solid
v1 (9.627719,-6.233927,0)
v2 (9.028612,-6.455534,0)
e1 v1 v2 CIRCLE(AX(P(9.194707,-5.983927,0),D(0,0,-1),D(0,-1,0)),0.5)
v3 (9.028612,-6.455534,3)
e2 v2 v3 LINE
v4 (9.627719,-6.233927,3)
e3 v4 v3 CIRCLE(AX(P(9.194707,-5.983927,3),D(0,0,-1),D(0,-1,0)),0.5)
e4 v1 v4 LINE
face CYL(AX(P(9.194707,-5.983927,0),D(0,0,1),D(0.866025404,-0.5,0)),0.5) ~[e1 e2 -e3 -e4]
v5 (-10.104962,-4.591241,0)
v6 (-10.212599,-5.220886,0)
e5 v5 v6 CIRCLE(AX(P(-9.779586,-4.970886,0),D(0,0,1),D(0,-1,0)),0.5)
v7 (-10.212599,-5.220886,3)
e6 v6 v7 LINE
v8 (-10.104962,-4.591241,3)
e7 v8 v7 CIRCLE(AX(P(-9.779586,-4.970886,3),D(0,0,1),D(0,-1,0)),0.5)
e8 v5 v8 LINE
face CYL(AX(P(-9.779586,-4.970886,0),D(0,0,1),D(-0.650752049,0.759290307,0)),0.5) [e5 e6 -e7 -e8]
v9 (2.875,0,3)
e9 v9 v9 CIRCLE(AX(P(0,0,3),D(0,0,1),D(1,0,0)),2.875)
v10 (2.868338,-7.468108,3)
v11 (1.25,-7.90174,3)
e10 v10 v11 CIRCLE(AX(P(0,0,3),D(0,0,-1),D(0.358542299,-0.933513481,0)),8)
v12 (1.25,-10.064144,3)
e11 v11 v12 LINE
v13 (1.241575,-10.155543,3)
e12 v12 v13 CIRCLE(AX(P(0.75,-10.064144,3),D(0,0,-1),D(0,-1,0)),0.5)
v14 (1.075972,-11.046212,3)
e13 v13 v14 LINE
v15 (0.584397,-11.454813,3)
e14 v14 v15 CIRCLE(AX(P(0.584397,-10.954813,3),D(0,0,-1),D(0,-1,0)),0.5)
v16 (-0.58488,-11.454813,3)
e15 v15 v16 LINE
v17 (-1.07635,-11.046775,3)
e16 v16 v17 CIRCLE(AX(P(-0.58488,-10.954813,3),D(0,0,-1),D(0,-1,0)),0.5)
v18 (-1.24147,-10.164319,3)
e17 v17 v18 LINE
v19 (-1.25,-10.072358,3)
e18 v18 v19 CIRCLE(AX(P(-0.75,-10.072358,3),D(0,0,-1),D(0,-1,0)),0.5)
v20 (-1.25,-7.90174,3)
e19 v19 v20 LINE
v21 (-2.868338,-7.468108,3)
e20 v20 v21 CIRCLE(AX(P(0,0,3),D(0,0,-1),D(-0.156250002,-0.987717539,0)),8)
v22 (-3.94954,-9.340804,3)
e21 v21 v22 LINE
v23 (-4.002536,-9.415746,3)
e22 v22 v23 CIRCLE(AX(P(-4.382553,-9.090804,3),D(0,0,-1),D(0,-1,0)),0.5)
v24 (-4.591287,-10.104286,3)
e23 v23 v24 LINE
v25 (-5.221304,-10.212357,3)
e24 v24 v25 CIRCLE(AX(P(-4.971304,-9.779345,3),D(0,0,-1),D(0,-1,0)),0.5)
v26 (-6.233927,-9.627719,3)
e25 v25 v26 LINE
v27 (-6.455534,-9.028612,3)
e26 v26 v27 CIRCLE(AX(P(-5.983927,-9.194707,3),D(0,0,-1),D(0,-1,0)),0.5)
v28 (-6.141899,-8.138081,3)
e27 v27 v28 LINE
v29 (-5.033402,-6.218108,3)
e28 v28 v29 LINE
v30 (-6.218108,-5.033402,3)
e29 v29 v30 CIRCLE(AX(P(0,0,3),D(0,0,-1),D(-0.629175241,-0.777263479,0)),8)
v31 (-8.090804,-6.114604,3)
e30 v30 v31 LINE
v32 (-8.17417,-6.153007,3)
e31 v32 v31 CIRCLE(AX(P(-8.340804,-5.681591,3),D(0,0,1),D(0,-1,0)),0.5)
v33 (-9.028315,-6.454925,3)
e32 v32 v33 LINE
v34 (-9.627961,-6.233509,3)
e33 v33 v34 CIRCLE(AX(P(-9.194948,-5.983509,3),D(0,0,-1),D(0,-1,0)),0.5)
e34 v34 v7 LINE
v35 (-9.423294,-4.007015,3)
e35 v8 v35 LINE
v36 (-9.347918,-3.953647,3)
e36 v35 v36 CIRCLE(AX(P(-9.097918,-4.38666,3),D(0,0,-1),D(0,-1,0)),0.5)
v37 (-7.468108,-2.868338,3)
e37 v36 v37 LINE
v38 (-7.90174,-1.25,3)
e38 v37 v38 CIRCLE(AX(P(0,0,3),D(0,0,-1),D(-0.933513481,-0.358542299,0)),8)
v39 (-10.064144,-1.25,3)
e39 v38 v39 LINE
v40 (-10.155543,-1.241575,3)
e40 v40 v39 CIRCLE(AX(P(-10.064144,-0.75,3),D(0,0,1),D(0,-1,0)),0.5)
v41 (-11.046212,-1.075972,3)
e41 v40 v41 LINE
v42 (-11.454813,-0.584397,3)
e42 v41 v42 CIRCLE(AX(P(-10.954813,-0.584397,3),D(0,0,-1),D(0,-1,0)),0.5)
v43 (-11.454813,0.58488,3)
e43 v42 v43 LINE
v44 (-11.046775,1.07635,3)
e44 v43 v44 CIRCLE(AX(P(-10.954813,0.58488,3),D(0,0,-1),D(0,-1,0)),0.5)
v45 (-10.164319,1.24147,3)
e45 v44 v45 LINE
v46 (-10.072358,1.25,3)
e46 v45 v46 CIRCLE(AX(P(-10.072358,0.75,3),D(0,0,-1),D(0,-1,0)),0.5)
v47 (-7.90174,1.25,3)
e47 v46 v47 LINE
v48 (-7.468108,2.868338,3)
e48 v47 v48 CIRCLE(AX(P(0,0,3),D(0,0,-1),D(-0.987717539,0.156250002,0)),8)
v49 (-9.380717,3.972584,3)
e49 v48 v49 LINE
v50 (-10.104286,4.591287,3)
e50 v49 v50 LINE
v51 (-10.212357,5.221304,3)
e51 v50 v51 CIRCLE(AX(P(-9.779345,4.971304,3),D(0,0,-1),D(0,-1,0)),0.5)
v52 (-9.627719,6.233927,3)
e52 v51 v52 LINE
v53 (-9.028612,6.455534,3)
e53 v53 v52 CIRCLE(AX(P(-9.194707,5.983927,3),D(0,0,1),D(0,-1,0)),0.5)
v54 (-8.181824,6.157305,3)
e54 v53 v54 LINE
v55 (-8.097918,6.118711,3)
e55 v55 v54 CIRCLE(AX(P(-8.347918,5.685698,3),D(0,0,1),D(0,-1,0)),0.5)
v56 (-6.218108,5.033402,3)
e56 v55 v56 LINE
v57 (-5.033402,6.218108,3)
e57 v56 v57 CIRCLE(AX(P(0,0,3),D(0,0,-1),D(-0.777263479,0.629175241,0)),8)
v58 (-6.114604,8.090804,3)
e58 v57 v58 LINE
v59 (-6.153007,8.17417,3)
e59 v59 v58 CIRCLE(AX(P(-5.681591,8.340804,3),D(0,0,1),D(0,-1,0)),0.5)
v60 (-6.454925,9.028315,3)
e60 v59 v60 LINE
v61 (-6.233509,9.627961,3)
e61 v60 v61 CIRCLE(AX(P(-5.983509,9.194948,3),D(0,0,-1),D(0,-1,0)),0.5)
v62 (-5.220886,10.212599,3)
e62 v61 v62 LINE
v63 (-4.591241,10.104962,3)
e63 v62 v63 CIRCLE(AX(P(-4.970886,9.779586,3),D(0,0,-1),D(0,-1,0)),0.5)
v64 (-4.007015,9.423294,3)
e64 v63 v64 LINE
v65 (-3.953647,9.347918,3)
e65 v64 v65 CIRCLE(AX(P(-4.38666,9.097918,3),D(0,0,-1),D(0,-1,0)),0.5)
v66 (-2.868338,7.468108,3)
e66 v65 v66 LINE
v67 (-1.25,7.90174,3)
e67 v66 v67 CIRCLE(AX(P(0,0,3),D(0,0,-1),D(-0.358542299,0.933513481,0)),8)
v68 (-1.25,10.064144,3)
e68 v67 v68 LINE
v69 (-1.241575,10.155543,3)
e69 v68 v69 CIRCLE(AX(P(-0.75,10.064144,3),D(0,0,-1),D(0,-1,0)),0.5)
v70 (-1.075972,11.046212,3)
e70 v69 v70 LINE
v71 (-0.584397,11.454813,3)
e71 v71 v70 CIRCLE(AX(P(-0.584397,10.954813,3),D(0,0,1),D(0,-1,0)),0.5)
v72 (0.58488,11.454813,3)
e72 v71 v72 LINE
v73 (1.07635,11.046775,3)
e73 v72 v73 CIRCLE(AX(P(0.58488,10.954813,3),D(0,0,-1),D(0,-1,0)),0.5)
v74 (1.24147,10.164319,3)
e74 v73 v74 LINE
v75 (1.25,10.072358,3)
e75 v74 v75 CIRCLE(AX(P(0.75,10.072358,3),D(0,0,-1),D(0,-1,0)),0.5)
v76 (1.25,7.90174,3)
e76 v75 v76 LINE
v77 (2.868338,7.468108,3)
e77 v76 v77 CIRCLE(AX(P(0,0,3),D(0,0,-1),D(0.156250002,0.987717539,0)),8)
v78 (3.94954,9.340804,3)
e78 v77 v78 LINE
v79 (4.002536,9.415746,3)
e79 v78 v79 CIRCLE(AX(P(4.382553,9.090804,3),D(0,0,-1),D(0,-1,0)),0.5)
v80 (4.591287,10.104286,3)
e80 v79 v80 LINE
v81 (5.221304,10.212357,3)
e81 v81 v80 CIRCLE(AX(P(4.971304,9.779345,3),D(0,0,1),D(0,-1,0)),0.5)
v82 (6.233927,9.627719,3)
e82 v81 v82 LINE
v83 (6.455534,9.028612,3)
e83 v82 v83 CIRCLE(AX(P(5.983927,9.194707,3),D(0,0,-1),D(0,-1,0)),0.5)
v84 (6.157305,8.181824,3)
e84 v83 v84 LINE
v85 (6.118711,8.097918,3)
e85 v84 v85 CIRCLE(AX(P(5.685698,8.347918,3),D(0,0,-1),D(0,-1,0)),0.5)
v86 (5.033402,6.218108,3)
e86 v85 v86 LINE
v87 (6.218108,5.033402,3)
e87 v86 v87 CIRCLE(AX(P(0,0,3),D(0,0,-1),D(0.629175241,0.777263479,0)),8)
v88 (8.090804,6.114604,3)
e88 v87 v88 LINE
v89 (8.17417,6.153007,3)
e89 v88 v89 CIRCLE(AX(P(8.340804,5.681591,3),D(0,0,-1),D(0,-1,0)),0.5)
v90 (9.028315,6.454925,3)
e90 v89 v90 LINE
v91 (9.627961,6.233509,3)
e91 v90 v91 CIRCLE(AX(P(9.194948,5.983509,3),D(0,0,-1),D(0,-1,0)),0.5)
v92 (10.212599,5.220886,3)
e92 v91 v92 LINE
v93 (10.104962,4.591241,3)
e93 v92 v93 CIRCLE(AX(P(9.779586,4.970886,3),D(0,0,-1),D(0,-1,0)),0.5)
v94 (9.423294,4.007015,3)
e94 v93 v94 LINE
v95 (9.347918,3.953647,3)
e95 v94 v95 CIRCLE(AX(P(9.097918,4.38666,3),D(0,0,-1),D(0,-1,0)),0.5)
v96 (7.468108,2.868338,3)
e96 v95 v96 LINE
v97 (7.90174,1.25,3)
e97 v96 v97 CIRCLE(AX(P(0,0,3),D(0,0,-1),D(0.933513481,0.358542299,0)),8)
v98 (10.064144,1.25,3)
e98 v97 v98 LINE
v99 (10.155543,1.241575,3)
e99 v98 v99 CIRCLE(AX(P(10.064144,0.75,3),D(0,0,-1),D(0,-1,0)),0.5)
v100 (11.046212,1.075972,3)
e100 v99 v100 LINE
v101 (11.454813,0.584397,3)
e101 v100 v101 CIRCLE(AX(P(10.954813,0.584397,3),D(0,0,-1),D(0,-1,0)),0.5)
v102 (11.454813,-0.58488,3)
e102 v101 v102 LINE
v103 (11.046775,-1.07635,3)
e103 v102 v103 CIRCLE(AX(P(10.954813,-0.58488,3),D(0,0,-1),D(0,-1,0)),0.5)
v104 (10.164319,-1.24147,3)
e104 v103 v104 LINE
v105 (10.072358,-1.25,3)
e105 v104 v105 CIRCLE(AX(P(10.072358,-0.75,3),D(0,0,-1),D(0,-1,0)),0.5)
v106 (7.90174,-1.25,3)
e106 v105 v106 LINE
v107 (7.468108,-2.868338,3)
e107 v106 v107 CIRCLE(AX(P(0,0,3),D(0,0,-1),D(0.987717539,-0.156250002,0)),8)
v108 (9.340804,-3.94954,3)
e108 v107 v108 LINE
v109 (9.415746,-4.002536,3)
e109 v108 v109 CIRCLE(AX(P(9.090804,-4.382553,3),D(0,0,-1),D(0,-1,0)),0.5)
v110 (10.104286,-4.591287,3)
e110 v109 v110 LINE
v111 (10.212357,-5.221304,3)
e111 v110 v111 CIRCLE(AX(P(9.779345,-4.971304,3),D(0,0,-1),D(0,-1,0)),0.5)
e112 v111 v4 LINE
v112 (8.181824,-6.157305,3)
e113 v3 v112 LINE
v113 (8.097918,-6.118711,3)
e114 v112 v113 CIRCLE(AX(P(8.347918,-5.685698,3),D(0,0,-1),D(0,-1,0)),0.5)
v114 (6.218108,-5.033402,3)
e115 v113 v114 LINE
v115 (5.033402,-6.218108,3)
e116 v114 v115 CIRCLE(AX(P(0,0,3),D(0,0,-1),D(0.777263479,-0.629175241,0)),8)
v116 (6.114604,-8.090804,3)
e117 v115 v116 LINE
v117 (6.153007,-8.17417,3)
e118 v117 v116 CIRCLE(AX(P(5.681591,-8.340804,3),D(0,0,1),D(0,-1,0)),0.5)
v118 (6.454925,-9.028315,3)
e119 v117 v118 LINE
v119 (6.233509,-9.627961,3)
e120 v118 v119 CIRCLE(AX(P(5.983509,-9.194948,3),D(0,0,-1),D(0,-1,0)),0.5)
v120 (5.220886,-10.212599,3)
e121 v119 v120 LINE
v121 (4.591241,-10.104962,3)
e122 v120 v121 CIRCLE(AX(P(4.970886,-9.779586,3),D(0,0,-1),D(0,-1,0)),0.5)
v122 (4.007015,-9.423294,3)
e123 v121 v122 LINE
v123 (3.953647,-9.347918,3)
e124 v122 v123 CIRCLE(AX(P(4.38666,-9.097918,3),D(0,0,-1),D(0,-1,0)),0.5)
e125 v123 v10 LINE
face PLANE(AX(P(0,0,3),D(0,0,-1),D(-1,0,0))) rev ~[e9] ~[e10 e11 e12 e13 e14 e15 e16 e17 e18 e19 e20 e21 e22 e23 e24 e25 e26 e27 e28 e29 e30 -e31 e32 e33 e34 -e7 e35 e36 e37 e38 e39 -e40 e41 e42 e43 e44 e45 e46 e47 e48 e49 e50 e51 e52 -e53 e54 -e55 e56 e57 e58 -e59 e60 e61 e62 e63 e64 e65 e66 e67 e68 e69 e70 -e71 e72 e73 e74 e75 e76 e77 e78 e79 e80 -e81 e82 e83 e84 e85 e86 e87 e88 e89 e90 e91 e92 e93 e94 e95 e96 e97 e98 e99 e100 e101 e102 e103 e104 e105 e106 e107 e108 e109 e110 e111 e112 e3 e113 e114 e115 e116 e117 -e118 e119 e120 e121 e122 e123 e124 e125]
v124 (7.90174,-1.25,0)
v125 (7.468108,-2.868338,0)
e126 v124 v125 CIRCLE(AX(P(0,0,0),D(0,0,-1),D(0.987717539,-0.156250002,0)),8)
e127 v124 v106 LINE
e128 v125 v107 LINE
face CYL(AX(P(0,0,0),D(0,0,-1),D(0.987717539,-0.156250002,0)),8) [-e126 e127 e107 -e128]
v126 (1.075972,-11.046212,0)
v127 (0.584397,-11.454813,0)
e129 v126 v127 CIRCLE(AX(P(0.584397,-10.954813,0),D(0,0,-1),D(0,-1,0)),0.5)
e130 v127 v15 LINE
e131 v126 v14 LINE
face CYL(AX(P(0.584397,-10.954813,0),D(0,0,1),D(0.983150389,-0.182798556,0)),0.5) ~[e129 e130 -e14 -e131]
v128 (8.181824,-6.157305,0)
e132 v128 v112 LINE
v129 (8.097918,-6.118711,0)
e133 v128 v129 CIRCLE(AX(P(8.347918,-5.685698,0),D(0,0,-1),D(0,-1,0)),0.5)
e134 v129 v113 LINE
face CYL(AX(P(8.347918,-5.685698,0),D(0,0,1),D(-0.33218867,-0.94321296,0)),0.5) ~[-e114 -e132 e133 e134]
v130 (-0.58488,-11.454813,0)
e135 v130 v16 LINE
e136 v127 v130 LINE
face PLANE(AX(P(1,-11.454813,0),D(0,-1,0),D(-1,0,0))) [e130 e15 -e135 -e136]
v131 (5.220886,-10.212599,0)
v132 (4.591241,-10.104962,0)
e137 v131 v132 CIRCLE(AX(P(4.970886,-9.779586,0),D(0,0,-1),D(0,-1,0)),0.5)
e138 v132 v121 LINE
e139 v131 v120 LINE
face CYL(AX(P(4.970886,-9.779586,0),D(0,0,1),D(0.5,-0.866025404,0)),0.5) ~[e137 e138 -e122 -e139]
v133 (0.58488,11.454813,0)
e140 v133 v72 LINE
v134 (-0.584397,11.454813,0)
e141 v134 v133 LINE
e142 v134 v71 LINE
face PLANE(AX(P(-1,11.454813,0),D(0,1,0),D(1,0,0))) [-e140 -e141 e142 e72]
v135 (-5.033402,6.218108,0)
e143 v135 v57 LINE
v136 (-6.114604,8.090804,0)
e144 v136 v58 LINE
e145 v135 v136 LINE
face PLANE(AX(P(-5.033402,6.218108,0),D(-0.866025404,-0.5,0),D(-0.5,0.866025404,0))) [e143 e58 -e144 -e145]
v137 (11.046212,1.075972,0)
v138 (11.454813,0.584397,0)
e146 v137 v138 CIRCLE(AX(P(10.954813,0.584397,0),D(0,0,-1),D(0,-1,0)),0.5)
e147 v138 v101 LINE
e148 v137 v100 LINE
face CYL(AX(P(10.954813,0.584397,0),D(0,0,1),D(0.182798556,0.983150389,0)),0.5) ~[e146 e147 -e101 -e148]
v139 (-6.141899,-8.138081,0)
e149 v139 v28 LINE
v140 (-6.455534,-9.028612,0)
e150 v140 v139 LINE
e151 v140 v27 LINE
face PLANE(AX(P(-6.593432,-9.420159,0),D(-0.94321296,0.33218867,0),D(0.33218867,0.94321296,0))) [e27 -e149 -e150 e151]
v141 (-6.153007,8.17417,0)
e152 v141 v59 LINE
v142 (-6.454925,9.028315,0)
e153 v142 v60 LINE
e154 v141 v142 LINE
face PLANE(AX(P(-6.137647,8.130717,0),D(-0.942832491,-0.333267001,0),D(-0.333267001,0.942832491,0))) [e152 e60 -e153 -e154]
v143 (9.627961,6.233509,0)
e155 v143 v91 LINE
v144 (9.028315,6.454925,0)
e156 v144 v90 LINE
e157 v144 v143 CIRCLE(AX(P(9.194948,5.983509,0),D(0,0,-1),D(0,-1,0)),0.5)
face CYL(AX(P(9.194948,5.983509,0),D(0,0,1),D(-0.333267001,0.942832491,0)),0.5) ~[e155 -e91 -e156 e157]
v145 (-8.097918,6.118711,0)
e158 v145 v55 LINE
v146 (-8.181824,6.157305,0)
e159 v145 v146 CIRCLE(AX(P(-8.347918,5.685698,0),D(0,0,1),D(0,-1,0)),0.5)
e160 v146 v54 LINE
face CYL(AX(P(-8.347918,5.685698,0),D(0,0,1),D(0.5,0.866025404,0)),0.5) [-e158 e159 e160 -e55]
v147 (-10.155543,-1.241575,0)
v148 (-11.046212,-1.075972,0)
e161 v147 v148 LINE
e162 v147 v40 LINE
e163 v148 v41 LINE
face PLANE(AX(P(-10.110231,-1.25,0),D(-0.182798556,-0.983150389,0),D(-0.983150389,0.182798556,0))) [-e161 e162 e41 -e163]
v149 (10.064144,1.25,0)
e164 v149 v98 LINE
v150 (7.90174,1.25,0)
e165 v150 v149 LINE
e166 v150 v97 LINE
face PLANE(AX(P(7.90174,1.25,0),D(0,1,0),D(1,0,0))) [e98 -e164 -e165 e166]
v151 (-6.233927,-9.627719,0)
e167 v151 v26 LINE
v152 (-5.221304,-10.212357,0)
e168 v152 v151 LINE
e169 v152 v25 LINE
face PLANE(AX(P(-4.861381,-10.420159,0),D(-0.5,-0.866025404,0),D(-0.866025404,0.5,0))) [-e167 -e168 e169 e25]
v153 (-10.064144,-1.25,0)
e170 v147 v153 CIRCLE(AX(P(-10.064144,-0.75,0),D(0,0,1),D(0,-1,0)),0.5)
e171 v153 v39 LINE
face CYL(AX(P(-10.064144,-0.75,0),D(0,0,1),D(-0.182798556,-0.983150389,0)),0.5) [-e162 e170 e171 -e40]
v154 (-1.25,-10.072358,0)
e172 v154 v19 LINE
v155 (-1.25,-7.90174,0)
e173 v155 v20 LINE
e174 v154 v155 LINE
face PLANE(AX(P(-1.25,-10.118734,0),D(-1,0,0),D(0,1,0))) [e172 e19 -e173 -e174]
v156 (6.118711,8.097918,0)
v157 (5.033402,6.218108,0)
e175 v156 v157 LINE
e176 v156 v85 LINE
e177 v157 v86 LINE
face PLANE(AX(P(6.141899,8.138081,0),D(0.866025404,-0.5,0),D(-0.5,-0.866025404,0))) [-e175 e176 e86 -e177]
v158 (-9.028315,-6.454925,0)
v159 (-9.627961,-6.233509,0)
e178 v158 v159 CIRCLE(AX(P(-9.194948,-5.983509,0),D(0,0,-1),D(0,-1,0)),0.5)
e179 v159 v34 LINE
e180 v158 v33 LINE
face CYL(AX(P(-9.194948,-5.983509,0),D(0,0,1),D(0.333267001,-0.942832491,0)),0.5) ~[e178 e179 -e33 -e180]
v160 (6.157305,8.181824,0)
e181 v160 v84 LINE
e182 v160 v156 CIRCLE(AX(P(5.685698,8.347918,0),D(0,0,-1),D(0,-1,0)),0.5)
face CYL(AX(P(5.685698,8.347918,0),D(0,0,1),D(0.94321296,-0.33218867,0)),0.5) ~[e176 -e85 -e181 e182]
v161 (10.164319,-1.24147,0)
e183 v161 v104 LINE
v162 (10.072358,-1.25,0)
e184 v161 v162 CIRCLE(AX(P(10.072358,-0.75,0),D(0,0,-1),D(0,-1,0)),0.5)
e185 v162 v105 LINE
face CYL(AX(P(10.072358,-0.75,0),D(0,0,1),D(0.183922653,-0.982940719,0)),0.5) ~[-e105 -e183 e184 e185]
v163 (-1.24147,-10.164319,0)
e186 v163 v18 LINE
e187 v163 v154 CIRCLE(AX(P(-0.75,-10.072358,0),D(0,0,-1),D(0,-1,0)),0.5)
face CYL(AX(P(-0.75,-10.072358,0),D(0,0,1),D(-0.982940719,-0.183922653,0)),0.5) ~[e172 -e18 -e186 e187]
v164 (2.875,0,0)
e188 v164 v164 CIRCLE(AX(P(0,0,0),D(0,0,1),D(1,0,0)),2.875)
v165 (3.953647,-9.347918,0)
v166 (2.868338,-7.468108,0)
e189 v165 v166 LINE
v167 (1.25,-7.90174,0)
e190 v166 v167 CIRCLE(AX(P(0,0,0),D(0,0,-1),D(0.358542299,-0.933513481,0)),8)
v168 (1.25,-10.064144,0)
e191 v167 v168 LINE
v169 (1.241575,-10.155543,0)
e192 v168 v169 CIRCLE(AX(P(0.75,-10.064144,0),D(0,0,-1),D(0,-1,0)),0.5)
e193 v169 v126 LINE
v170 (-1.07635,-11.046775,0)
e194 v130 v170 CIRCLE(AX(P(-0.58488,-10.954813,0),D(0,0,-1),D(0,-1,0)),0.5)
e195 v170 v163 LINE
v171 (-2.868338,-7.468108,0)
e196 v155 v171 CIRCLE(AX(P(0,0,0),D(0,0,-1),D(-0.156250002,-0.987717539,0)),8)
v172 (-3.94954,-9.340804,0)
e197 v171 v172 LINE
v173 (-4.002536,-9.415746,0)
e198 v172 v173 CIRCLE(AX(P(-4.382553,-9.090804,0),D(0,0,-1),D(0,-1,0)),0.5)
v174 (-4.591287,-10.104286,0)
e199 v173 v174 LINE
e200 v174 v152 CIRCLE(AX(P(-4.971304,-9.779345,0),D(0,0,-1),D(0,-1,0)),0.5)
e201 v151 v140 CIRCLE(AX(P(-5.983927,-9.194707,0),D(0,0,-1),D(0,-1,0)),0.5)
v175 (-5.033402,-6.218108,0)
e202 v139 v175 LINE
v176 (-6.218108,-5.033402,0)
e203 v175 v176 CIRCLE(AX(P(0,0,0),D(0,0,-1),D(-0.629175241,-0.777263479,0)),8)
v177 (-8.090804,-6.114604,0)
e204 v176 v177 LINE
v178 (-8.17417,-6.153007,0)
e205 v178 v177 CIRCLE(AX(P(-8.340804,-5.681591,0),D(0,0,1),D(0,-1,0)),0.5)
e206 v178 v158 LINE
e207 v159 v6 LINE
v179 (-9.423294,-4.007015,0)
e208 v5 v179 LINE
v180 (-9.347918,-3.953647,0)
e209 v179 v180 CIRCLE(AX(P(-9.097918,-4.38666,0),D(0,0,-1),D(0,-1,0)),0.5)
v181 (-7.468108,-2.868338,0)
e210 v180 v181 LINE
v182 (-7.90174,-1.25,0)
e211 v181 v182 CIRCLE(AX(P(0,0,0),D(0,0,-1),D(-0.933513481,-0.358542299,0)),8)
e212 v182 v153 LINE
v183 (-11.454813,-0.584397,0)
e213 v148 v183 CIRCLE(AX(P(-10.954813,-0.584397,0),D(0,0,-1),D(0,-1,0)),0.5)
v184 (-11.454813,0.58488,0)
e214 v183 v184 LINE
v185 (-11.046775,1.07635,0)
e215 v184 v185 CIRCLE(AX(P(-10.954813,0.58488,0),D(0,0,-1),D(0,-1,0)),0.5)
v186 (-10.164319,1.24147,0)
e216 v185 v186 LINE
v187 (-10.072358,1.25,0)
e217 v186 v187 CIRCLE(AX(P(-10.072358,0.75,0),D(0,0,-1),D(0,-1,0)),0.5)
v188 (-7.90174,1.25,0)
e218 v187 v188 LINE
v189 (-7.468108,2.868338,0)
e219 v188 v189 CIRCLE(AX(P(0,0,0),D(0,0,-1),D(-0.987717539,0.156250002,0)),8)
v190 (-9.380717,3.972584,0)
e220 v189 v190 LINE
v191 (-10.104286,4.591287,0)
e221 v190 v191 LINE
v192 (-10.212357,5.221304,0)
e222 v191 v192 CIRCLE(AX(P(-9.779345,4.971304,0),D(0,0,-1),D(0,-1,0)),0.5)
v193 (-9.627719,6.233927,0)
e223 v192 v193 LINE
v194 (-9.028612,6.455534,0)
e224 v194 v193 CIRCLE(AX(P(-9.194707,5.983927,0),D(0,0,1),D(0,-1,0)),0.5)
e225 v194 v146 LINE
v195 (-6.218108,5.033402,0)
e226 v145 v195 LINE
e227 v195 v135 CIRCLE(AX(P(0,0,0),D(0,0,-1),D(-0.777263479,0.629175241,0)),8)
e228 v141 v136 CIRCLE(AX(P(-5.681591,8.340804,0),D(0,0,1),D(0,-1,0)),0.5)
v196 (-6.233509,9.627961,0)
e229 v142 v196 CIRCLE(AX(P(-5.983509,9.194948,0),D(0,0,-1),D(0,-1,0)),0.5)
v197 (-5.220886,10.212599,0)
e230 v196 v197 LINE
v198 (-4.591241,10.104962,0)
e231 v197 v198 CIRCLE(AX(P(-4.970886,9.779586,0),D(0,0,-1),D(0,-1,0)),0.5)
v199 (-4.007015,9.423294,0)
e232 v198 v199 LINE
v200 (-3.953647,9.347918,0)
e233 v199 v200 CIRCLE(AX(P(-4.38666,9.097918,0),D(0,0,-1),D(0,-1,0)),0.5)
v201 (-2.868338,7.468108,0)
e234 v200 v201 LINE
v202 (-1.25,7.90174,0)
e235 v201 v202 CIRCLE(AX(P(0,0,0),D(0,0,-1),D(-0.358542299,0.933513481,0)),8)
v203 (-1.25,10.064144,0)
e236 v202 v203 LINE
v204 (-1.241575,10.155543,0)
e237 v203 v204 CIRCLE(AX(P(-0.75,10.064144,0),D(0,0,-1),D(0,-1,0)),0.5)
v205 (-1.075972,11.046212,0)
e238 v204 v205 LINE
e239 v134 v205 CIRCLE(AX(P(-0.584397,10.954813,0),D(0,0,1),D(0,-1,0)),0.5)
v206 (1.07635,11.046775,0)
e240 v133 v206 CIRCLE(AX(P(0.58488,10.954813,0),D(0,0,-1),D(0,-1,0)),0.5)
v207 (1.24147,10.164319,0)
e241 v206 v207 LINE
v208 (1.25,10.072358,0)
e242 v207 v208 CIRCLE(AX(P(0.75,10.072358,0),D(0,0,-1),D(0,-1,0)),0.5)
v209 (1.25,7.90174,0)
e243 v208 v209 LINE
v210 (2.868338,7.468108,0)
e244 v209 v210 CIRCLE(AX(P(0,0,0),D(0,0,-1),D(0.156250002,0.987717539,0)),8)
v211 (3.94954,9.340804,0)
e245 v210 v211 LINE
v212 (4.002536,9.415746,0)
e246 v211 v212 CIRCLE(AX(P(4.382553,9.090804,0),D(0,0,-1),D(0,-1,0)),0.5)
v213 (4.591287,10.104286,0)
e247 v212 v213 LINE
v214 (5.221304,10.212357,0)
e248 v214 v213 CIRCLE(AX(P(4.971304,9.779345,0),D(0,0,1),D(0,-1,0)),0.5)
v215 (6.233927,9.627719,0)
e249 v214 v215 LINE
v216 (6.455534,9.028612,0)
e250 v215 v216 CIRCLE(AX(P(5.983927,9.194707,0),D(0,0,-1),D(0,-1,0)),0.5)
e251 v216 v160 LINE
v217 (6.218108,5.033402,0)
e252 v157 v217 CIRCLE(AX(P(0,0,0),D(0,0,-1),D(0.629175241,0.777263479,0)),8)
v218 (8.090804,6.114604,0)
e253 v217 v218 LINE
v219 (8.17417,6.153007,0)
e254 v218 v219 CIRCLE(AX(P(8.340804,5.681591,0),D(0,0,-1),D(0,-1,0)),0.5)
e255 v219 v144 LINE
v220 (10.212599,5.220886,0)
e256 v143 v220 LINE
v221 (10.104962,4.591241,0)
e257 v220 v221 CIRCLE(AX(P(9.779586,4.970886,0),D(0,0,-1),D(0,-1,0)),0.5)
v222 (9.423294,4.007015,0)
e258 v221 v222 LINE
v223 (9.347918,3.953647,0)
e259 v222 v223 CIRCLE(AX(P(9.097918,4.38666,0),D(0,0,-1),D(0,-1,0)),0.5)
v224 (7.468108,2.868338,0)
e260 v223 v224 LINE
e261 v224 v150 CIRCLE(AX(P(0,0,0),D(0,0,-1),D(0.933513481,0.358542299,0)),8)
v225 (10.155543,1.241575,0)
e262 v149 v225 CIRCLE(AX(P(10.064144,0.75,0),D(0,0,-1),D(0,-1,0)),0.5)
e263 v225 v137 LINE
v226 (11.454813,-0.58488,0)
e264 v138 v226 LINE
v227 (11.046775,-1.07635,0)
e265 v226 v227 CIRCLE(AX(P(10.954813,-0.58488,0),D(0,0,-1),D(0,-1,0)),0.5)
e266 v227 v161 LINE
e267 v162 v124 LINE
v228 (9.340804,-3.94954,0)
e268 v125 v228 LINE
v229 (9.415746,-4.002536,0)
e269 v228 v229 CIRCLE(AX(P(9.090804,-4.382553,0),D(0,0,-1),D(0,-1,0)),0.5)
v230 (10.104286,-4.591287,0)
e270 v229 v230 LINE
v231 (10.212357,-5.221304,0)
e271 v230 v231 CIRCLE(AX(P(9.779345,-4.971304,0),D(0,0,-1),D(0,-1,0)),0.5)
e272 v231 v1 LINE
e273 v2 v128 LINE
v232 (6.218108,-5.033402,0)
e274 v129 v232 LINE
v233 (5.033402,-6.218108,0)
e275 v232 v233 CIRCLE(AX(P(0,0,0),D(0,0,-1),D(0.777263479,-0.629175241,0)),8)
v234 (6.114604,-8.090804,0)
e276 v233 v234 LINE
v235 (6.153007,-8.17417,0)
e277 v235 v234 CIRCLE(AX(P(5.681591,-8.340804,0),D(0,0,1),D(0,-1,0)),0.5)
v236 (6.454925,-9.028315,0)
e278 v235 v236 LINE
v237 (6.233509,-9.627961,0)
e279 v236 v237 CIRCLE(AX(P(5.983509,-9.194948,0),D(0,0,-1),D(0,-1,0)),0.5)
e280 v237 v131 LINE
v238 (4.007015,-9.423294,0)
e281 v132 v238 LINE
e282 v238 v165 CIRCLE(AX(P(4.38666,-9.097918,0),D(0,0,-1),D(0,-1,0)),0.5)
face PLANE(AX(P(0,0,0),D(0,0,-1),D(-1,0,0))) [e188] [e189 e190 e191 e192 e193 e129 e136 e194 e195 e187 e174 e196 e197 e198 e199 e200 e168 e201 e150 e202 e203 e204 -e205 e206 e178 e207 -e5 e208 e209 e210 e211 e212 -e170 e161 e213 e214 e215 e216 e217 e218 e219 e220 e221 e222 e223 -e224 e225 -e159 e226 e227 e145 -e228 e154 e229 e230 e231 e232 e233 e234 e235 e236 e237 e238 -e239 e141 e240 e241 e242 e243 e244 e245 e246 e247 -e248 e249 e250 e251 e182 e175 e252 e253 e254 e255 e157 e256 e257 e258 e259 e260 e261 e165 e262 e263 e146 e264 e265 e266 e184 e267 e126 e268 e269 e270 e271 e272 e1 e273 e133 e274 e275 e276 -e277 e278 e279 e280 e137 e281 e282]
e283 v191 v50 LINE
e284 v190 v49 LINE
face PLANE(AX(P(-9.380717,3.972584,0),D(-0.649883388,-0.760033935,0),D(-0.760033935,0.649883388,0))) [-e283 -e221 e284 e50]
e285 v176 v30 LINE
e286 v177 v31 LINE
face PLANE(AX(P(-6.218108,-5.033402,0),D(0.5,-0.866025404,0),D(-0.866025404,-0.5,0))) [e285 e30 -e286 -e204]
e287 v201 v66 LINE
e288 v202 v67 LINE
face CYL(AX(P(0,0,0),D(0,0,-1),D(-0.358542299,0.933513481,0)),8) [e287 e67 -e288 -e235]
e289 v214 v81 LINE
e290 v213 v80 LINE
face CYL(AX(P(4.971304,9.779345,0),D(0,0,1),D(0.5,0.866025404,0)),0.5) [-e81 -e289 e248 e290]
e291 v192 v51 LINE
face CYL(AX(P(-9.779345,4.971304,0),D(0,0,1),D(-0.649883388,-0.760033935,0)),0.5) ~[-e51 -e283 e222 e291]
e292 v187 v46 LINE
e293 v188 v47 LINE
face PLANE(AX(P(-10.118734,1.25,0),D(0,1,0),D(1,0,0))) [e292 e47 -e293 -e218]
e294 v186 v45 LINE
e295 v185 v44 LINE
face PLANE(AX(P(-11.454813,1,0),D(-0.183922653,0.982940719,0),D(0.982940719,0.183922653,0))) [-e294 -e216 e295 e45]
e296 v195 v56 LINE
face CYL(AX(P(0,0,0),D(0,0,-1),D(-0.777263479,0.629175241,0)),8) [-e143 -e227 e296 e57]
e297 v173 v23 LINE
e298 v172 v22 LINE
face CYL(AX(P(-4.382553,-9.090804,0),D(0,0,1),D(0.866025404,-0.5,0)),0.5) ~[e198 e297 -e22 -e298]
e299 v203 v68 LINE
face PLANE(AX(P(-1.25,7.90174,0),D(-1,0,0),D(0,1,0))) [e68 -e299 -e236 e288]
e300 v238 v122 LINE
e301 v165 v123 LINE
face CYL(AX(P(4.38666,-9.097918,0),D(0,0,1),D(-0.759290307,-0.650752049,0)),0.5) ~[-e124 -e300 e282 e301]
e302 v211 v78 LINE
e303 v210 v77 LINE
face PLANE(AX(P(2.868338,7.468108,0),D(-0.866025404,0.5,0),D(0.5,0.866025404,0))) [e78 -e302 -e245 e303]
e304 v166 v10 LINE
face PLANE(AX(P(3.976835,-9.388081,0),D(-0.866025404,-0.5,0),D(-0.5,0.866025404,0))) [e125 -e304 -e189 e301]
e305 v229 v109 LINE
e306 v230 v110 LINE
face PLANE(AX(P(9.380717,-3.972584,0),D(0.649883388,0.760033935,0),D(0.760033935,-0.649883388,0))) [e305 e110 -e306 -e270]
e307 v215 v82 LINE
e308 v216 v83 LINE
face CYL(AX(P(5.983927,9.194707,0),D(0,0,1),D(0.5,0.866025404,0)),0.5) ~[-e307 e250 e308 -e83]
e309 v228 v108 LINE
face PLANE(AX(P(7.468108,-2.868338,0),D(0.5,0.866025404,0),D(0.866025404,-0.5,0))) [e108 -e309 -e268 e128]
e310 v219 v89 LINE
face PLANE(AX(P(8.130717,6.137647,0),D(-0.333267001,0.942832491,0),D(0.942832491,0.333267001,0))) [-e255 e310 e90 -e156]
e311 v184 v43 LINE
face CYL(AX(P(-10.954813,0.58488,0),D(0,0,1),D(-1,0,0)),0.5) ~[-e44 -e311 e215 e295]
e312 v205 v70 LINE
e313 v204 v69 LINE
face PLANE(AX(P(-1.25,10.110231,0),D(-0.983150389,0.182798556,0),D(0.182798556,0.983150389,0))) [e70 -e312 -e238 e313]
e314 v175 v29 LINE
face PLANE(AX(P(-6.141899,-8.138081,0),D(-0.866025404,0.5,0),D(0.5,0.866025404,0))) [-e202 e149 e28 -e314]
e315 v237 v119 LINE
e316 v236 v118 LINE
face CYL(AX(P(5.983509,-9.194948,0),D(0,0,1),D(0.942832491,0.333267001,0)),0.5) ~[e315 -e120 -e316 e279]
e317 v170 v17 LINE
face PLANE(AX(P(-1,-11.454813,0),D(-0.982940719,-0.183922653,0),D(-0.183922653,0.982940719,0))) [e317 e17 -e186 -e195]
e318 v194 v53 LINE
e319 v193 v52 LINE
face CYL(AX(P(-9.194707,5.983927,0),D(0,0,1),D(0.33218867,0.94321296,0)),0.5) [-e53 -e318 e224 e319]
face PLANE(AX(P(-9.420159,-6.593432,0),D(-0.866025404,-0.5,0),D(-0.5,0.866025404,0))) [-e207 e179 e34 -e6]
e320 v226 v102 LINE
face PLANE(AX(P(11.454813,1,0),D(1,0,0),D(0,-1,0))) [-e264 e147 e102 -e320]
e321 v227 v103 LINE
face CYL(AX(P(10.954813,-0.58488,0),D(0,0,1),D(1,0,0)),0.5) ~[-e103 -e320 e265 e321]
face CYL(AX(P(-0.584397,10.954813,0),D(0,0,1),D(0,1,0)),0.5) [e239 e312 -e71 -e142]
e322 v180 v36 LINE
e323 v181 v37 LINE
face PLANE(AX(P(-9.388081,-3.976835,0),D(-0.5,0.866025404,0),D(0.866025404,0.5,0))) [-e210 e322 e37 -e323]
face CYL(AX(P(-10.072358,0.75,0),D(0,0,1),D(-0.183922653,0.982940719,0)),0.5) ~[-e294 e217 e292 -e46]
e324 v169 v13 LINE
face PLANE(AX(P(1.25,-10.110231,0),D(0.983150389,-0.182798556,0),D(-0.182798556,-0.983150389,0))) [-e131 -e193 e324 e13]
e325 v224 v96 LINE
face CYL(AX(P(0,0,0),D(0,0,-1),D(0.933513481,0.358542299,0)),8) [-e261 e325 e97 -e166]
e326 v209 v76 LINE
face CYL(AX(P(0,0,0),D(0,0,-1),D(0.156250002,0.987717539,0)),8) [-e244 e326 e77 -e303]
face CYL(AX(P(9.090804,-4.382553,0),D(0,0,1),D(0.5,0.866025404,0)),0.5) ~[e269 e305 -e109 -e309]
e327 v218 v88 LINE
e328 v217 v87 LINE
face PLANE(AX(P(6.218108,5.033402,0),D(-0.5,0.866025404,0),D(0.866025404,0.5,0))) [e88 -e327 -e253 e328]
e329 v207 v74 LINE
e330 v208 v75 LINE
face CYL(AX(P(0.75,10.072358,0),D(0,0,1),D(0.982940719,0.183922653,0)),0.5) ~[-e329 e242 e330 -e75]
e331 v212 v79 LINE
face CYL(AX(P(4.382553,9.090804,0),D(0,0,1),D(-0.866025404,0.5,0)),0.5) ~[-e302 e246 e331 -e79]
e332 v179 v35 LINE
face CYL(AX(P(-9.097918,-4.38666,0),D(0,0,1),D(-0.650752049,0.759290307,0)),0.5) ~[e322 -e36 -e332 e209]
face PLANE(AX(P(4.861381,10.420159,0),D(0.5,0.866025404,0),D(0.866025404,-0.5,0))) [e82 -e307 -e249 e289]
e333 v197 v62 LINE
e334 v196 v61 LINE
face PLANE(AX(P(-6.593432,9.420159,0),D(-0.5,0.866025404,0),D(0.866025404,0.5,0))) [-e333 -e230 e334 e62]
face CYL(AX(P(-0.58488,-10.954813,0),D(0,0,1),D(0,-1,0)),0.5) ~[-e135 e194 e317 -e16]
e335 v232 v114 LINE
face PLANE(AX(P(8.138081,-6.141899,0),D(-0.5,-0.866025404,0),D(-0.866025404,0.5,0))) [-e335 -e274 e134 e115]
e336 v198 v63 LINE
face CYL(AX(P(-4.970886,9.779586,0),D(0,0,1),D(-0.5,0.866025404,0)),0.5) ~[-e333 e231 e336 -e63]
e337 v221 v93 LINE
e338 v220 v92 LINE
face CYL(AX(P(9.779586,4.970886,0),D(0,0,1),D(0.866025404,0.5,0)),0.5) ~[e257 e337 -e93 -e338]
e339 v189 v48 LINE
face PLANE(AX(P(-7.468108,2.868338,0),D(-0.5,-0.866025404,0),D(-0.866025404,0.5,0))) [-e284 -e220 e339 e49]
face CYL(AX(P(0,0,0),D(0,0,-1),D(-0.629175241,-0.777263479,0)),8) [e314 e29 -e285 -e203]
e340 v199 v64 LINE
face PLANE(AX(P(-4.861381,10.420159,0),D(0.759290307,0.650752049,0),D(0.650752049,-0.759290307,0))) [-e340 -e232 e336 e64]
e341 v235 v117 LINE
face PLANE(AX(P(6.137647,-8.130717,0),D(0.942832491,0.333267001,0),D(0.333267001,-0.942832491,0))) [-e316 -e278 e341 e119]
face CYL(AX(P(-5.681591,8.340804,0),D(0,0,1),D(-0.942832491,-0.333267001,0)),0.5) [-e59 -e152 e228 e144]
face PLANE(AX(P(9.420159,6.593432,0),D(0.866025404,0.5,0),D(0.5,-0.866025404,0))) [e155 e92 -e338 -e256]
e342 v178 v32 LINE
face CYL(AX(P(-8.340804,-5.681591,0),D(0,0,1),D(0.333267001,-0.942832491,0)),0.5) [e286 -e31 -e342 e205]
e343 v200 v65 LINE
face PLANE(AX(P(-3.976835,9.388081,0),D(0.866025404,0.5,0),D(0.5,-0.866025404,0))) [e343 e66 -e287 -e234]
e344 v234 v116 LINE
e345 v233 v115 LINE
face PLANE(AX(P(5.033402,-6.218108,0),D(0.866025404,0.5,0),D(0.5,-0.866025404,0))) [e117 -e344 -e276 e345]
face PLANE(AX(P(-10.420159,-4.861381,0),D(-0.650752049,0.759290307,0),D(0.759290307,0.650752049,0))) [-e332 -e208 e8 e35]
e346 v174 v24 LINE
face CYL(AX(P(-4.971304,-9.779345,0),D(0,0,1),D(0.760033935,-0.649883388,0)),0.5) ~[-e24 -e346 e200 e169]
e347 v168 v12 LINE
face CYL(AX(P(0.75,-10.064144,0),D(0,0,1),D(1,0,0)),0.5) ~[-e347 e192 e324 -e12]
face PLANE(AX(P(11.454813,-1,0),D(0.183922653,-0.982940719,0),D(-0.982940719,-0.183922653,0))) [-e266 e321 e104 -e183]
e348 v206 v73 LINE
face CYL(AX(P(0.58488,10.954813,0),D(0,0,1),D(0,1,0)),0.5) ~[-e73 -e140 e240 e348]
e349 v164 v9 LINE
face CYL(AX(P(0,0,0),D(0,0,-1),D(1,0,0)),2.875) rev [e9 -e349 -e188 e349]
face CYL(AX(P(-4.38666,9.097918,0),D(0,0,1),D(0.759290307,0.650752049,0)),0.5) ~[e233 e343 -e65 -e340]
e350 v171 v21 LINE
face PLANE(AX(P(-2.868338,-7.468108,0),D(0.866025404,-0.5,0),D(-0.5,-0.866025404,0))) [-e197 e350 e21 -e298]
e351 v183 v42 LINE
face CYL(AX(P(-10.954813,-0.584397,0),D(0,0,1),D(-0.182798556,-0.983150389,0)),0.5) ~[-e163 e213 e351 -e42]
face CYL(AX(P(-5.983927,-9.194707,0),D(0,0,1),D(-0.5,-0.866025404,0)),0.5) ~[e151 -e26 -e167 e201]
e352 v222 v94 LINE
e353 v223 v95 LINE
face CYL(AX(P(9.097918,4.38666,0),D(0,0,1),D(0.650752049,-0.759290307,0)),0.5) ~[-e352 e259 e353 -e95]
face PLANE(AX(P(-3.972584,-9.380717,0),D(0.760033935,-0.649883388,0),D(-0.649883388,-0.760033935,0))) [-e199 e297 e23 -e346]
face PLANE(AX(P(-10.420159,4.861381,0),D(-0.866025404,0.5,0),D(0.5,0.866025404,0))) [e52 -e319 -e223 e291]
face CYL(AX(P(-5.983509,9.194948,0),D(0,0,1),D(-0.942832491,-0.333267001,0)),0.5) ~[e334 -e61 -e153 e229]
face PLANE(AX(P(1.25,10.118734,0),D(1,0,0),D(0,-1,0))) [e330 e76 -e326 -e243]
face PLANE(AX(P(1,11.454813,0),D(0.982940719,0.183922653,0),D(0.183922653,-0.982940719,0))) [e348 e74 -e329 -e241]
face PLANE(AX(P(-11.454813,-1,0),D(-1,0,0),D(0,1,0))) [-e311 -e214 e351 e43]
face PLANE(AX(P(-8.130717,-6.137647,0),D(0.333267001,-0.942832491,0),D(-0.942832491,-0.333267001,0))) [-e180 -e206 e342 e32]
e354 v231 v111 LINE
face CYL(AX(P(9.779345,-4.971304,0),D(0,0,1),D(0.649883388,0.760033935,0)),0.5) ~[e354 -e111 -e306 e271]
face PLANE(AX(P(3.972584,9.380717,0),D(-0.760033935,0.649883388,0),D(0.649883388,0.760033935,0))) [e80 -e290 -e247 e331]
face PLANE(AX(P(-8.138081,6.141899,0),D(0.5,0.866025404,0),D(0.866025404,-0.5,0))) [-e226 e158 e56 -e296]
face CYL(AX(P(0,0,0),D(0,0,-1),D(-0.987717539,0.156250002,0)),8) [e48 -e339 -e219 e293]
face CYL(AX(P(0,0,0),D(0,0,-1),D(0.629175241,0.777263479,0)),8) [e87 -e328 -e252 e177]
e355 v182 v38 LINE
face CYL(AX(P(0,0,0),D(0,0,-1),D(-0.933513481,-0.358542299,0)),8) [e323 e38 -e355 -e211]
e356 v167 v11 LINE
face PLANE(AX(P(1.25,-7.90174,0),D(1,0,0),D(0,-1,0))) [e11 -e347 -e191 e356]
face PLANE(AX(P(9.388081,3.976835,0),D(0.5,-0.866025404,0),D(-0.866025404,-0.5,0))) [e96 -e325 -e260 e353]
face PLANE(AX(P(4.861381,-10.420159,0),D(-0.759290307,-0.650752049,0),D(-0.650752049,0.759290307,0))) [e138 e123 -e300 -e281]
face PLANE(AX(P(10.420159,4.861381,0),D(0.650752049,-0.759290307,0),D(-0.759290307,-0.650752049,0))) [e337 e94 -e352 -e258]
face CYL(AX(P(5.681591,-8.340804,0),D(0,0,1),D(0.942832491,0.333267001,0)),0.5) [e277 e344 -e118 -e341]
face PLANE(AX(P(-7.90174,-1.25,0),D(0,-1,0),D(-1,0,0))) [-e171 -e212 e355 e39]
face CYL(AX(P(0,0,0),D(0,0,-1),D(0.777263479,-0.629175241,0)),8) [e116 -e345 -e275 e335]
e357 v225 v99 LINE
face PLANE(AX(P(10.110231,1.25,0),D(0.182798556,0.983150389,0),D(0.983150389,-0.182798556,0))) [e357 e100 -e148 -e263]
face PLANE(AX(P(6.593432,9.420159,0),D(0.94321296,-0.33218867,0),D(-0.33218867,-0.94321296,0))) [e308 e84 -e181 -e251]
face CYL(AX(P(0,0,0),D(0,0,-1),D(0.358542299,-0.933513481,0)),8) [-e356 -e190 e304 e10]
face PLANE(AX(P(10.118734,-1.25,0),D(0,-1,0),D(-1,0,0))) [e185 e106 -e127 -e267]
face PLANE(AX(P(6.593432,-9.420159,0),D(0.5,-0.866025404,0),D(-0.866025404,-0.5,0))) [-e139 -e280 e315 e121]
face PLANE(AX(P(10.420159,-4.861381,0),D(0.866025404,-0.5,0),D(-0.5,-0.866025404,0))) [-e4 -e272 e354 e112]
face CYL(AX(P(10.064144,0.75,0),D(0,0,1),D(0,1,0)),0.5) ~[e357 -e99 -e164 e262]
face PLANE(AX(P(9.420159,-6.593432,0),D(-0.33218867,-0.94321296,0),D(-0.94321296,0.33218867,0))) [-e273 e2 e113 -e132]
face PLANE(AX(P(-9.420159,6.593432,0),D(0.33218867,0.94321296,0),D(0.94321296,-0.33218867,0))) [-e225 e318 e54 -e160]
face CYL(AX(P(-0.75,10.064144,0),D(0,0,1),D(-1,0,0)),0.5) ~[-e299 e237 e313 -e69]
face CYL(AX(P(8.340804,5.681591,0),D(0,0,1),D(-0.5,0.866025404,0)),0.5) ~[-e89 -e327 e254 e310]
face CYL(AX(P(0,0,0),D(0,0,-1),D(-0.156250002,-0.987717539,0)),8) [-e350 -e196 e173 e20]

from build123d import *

# Parameters (mm, degrees)
SKETCH1_R           = 2.875
BOSS_EXTRUDE1_DEPTH = 3
FILLET1_R           = 0.5
FILLET2_R           = 0.5
FILLET3_R           = 0.5
FILLET4_R           = 0.5
FILLET5_R           = 0.5
FILLET6_R           = 0.5
FILLET7_R           = 0.5
FILLET8_R           = 0.5
FILLET9_R           = 0.5
FILLET10_R          = 0.5
FILLET11_R          = 0.5
FILLET12_R          = 0.5
FILLET13_R          = 0.5
FILLET14_R          = 0.5
FILLET15_R          = 0.5
FILLET16_R          = 0.5
FILLET17_R          = 0.5
FILLET18_R          = 0.5
FILLET19_R          = 0.5
FILLET20_R          = 0.5
FILLET21_R          = 0.5
FILLET22_R          = 0.5
FILLET23_R          = 0.5
FILLET24_R          = 0.5
FILLET25_R          = 0.5
FILLET26_R          = 0.5
FILLET27_R          = 0.5
FILLET28_R          = 0.5
FILLET29_R          = 0.5
FILLET30_R          = 0.5
FILLET31_R          = 0.5
FILLET32_R          = 0.5
FILLET33_R          = 0.5
FILLET34_R          = 0.5
FILLET35_R          = 0.5
FILLET36_R          = 0.5
FILLET41_R          = 0.5
FILLET42_R          = 0.5
FILLET43_R          = 0.5
FILLET44_R          = 0.5
FILLET45_R          = 0.5
FILLET46_R          = 0.5
FILLET47_R          = 0.5
FILLET48_R          = 0.5


with BuildPart() as part:
    # Sketch1 → Boss-Extrude1 (new body)
    with BuildSketch(Plane.XY):
        with BuildLine():
            Line((-1, 11.454813213), (1, 11.454813213))
            Line((1, 11.454813213), (1.25, 10.118734291))
            Line((1.25, 10.118734291), (1.25, 7.901740315))
            ThreePointArc((1.25, 7.901740315), (2.070552361, 7.72740661), (2.868338403, 7.468107847))
            Line((2.868338403, 7.468107847), (3.972583989, 9.380717307))
            Line((3.972583989, 9.380717307), (4.861381203, 10.420159238))
            Line((4.861381203, 10.420159238), (6.59343201, 9.420159238))
            Line((6.59343201, 9.420159238), (6.1418989, 8.13808095))
            Line((6.1418989, 8.13808095), (5.033401912, 6.218107847))
            ThreePointArc((5.033401912, 6.218107847), (5.656854249, 5.656854249), (6.218107847, 5.033401912))
            Line((6.218107847, 5.033401912), (8.130717307, 6.137647499))
            Line((8.130717307, 6.137647499), (9.420159238, 6.59343201))
            Line((9.420159238, 6.59343201), (10.420159238, 4.861381203))
            Line((10.420159238, 4.861381203), (9.38808095, 3.976835391))
            Line((9.38808095, 3.976835391), (7.468107847, 2.868338403))
            ThreePointArc((7.468107847, 2.868338403), (7.72740661, 2.070552361), (7.901740315, 1.25))
            Line((7.901740315, 1.25), (10.110231488, 1.25))
            Line((10.110231488, 1.25), (11.454813213, 1))
            Line((11.454813213, 1), (11.454813213, -1))
            Line((11.454813213, -1), (10.118734291, -1.25))
            Line((10.118734291, -1.25), (7.901740315, -1.25))
            ThreePointArc((7.901740315, -1.25), (7.72740661, -2.070552361), (7.468107847, -2.868338403))
            Line((7.468107847, -2.868338403), (9.380717307, -3.972583989))
            Line((9.380717307, -3.972583989), (10.420159238, -4.861381203))
            Line((10.420159238, -4.861381203), (9.420159238, -6.59343201))
            Line((9.420159238, -6.59343201), (8.13808095, -6.1418989))
            Line((8.13808095, -6.1418989), (6.218107847, -5.033401912))
            ThreePointArc((6.218107847, -5.033401912), (5.656854249, -5.656854249), (5.033401912, -6.218107847))
            Line((5.033401912, -6.218107847), (6.137647499, -8.130717307))
            Line((6.137647499, -8.130717307), (6.59343201, -9.420159238))
            Line((6.59343201, -9.420159238), (4.861381203, -10.420159238))
            Line((4.861381203, -10.420159238), (3.976835391, -9.38808095))
            Line((3.976835391, -9.38808095), (2.868338403, -7.468107847))
            ThreePointArc((2.868338403, -7.468107847), (2.070552361, -7.72740661), (1.25, -7.901740315))
            Line((1.25, -7.901740315), (1.25, -10.110231488))
            Line((1.25, -10.110231488), (1, -11.454813213))
            Line((1, -11.454813213), (-1, -11.454813213))
            Line((-1, -11.454813213), (-1.25, -10.118734291))
            Line((-1.25, -10.118734291), (-1.25, -7.901740315))
            ThreePointArc((-1.25, -7.901740315), (-2.070552361, -7.72740661), (-2.868338403, -7.468107847))
            Line((-2.868338403, -7.468107847), (-3.972583989, -9.380717307))
            Line((-3.972583989, -9.380717307), (-4.861381203, -10.420159238))
            Line((-4.861381203, -10.420159238), (-6.59343201, -9.420159238))
            Line((-6.59343201, -9.420159238), (-6.1418989, -8.13808095))
            Line((-6.1418989, -8.13808095), (-5.033401912, -6.218107847))
            ThreePointArc((-5.033401912, -6.218107847), (-5.656854249, -5.656854249), (-6.218107847, -5.033401912))
            Line((-6.218107847, -5.033401912), (-8.130717307, -6.137647499))
            Line((-8.130717307, -6.137647499), (-9.420159238, -6.59343201))
            Line((-9.420159238, -6.59343201), (-10.420159238, -4.861381203))
            Line((-10.420159238, -4.861381203), (-9.38808095, -3.976835391))
            Line((-9.38808095, -3.976835391), (-7.468107847, -2.868338403))
            ThreePointArc((-7.468107847, -2.868338403), (-7.72740661, -2.070552361), (-7.901740315, -1.25))
            Line((-7.901740315, -1.25), (-10.110231488, -1.25))
            Line((-10.110231488, -1.25), (-11.454813213, -1))
            Line((-11.454813213, -1), (-11.454813213, 1))
            Line((-11.454813213, 1), (-10.118734291, 1.25))
            Line((-10.118734291, 1.25), (-7.901740315, 1.25))
            ThreePointArc((-7.901740315, 1.25), (-7.72740661, 2.070552361), (-7.468107847, 2.868338403))
            Line((-7.468107847, 2.868338403), (-9.380717307, 3.972583989))
            Line((-9.380717307, 3.972583989), (-10.420159238, 4.861381203))
            Line((-10.420159238, 4.861381203), (-9.420159238, 6.59343201))
            Line((-9.420159238, 6.59343201), (-8.13808095, 6.1418989))
            Line((-8.13808095, 6.1418989), (-6.218107847, 5.033401912))
            ThreePointArc((-6.218107847, 5.033401912), (-5.656854249, 5.656854249), (-5.033401912, 6.218107847))
            Line((-5.033401912, 6.218107847), (-6.137647499, 8.130717307))
            Line((-6.137647499, 8.130717307), (-6.59343201, 9.420159238))
            Line((-6.59343201, 9.420159238), (-4.861381203, 10.420159238))
            Line((-4.861381203, 10.420159238), (-3.976835391, 9.38808095))
            Line((-3.976835391, 9.38808095), (-2.868338403, 7.468107847))
            ThreePointArc((-2.868338403, 7.468107847), (-2.070552361, 7.72740661), (-1.25, 7.901740315))
            Line((-1.25, 7.901740315), (-1.25, 10.110231488))
            Line((-1.25, 10.110231488), (-1, 11.454813213))
        make_face()
        Circle(SKETCH1_R, mode=Mode.SUBTRACT)
    extrude(amount=BOSS_EXTRUDE1_DEPTH)

    # Fillet1
    fillet1_edges = [part.edges().sort_by_distance(p)[0] for p in [
        (1, 11.454813213, 1.5),
    ]]
    fillet(fillet1_edges, radius=FILLET1_R)

    # Fillet2
    fillet2_edges = [part.edges().sort_by_distance(p)[0] for p in [
        (-1, 11.454813213, 1.5),
    ]]
    fillet(fillet2_edges, radius=FILLET2_R)

    # Fillet3
    fillet3_edges = [part.edges().sort_by_distance(p)[0] for p in [
        (6.59343201, 9.420159238, 1.5),
    ]]
    fillet(fillet3_edges, radius=FILLET3_R)

    # Fillet4
    fillet4_edges = [part.edges().sort_by_distance(p)[0] for p in [
        (4.861381203, 10.420159238, 1.5),
    ]]
    fillet(fillet4_edges, radius=FILLET4_R)

    # Fillet5
    fillet5_edges = [part.edges().sort_by_distance(p)[0] for p in [
        (9.420159238, 6.59343201, 1.5),
    ]]
    fillet(fillet5_edges, radius=FILLET5_R)

    # Fillet6
    fillet6_edges = [part.edges().sort_by_distance(p)[0] for p in [
        (10.420159238, 4.861381203, 1.5),
    ]]
    fillet(fillet6_edges, radius=FILLET6_R)

    # Fillet7
    fillet7_edges = [part.edges().sort_by_distance(p)[0] for p in [
        (11.454813213, 1, 1.5),
    ]]
    fillet(fillet7_edges, radius=FILLET7_R)

    # Fillet8
    fillet8_edges = [part.edges().sort_by_distance(p)[0] for p in [
        (11.454813213, -1, 1.5),
    ]]
    fillet(fillet8_edges, radius=FILLET8_R)

    # Fillet9
    fillet9_edges = [part.edges().sort_by_distance(p)[0] for p in [
        (10.420159238, -4.861381203, 1.5),
    ]]
    fillet(fillet9_edges, radius=FILLET9_R)

    # Fillet10
    fillet10_edges = [part.edges().sort_by_distance(p)[0] for p in [
        (9.420159238, -6.59343201, 1.5),
    ]]
    fillet(fillet10_edges, radius=FILLET10_R)

    # Fillet11
    fillet11_edges = [part.edges().sort_by_distance(p)[0] for p in [
        (6.59343201, -9.420159238, 1.5),
    ]]
    fillet(fillet11_edges, radius=FILLET11_R)

    # Fillet12
    fillet12_edges = [part.edges().sort_by_distance(p)[0] for p in [
        (4.861381203, -10.420159238, 1.5),
    ]]
    fillet(fillet12_edges, radius=FILLET12_R)

    # Fillet13
    fillet13_edges = [part.edges().sort_by_distance(p)[0] for p in [
        (1, -11.454813213, 1.5),
    ]]
    fillet(fillet13_edges, radius=FILLET13_R)

    # Fillet14
    fillet14_edges = [part.edges().sort_by_distance(p)[0] for p in [
        (-1, -11.454813213, 1.5),
    ]]
    fillet(fillet14_edges, radius=FILLET14_R)

    # Fillet15
    fillet15_edges = [part.edges().sort_by_distance(p)[0] for p in [
        (-4.861381203, -10.420159238, 1.5),
    ]]
    fillet(fillet15_edges, radius=FILLET15_R)

    # Fillet16
    fillet16_edges = [part.edges().sort_by_distance(p)[0] for p in [
        (-6.59343201, -9.420159238, 1.5),
    ]]
    fillet(fillet16_edges, radius=FILLET16_R)

    # Fillet17
    fillet17_edges = [part.edges().sort_by_distance(p)[0] for p in [
        (-9.420159238, -6.59343201, 1.5),
    ]]
    fillet(fillet17_edges, radius=FILLET17_R)

    # Fillet18
    fillet18_edges = [part.edges().sort_by_distance(p)[0] for p in [
        (-11.454813213, 1, 1.5),
    ]]
    fillet(fillet18_edges, radius=FILLET18_R)

    # Fillet19
    fillet19_edges = [part.edges().sort_by_distance(p)[0] for p in [
        (-10.420159238, 4.861381203, 1.5),
    ]]
    fillet(fillet19_edges, radius=FILLET19_R)

    # Fillet20
    fillet20_edges = [part.edges().sort_by_distance(p)[0] for p in [
        (-4.861381203, 10.420159238, 1.5),
    ]]
    fillet(fillet20_edges, radius=FILLET20_R)

    # Fillet21
    fillet21_edges = [part.edges().sort_by_distance(p)[0] for p in [
        (-1.25, 10.110231488, 1.5),
    ]]
    fillet(fillet21_edges, radius=FILLET21_R)

    # Fillet22
    fillet22_edges = [part.edges().sort_by_distance(p)[0] for p in [
        (1.25, 10.118734291, 1.5),
    ]]
    fillet(fillet22_edges, radius=FILLET22_R)

    # Fillet23
    fillet23_edges = [part.edges().sort_by_distance(p)[0] for p in [
        (3.972583989, 9.380717307, 1.5),
    ]]
    fillet(fillet23_edges, radius=FILLET23_R)

    # Fillet24
    fillet24_edges = [part.edges().sort_by_distance(p)[0] for p in [
        (6.1418989, 8.13808095, 1.5),
    ]]
    fillet(fillet24_edges, radius=FILLET24_R)

    # Fillet25
    fillet25_edges = [part.edges().sort_by_distance(p)[0] for p in [
        (8.130717307, 6.137647499, 1.5),
    ]]
    fillet(fillet25_edges, radius=FILLET25_R)

    # Fillet26
    fillet26_edges = [part.edges().sort_by_distance(p)[0] for p in [
        (9.38808095, 3.976835391, 1.5),
    ]]
    fillet(fillet26_edges, radius=FILLET26_R)

    # Fillet27
    fillet27_edges = [part.edges().sort_by_distance(p)[0] for p in [
        (10.110231488, 1.25, 1.5),
    ]]
    fillet(fillet27_edges, radius=FILLET27_R)

    # Fillet28
    fillet28_edges = [part.edges().sort_by_distance(p)[0] for p in [
        (10.118734291, -1.25, 1.5),
    ]]
    fillet(fillet28_edges, radius=FILLET28_R)

    # Fillet29
    fillet29_edges = [part.edges().sort_by_distance(p)[0] for p in [
        (9.380717307, -3.972583989, 1.5),
    ]]
    fillet(fillet29_edges, radius=FILLET29_R)

    # Fillet30
    fillet30_edges = [part.edges().sort_by_distance(p)[0] for p in [
        (8.13808095, -6.1418989, 1.5),
    ]]
    fillet(fillet30_edges, radius=FILLET30_R)

    # Fillet31
    fillet31_edges = [part.edges().sort_by_distance(p)[0] for p in [
        (3.976835391, -9.38808095, 1.5),
    ]]
    fillet(fillet31_edges, radius=FILLET31_R)

    # Fillet32
    fillet32_edges = [part.edges().sort_by_distance(p)[0] for p in [
        (6.137647499, -8.130717307, 1.5),
    ]]
    fillet(fillet32_edges, radius=FILLET32_R)

    # Fillet33
    fillet33_edges = [part.edges().sort_by_distance(p)[0] for p in [
        (1.25, -10.110231488, 1.5),
    ]]
    fillet(fillet33_edges, radius=FILLET33_R)

    # Fillet34
    fillet34_edges = [part.edges().sort_by_distance(p)[0] for p in [
        (-1.25, -10.118734291, 1.5),
        (-3.972583989, -9.380717307, 1.5),
    ]]
    fillet(fillet34_edges, radius=FILLET34_R)

    # Fillet35
    fillet35_edges = [part.edges().sort_by_distance(p)[0] for p in [
        (-9.38808095, -3.976835391, 1.5),
    ]]
    fillet(fillet35_edges, radius=FILLET35_R)

    # Fillet36
    fillet36_edges = [part.edges().sort_by_distance(p)[0] for p in [
        (-8.130717307, -6.137647499, 1.5),
        (-11.454813213, -1, 1.5),
    ]]
    fillet(fillet36_edges, radius=FILLET36_R)

    # Fillet41
    fillet41_edges = [part.edges().sort_by_distance(p)[0] for p in [
        (-6.59343201, 9.420159238, 1.5),
    ]]
    fillet(fillet41_edges, radius=FILLET41_R)

    # Fillet42
    fillet42_edges = [part.edges().sort_by_distance(p)[0] for p in [
        (-6.137647499, 8.130717307, 1.5),
    ]]
    fillet(fillet42_edges, radius=FILLET42_R)

    # Fillet43
    fillet43_edges = [part.edges().sort_by_distance(p)[0] for p in [
        (-8.13808095, 6.1418989, 1.5),
    ]]
    fillet(fillet43_edges, radius=FILLET43_R)

    # Fillet44
    fillet44_edges = [part.edges().sort_by_distance(p)[0] for p in [
        (-9.420159238, 6.59343201, 1.5),
    ]]
    fillet(fillet44_edges, radius=FILLET44_R)

    # Fillet45
    fillet45_edges = [part.edges().sort_by_distance(p)[0] for p in [
        (-3.976835391, 9.38808095, 1.5),
    ]]
    fillet(fillet45_edges, radius=FILLET45_R)

    # Fillet46
    fillet46_edges = [part.edges().sort_by_distance(p)[0] for p in [
        (-10.420159238, -4.861381203, 1.5),
    ]]
    fillet(fillet46_edges, radius=FILLET46_R)

    # Fillet47
    fillet47_edges = [part.edges().sort_by_distance(p)[0] for p in [
        (-10.118734291, 1.25, 1.5),
    ]]
    fillet(fillet47_edges, radius=FILLET47_R)

    # Fillet48
    fillet48_edges = [part.edges().sort_by_distance(p)[0] for p in [
        (-10.110231488, -1.25, 1.5),
    ]]
    fillet(fillet48_edges, radius=FILLET48_R)


solid = part.part
